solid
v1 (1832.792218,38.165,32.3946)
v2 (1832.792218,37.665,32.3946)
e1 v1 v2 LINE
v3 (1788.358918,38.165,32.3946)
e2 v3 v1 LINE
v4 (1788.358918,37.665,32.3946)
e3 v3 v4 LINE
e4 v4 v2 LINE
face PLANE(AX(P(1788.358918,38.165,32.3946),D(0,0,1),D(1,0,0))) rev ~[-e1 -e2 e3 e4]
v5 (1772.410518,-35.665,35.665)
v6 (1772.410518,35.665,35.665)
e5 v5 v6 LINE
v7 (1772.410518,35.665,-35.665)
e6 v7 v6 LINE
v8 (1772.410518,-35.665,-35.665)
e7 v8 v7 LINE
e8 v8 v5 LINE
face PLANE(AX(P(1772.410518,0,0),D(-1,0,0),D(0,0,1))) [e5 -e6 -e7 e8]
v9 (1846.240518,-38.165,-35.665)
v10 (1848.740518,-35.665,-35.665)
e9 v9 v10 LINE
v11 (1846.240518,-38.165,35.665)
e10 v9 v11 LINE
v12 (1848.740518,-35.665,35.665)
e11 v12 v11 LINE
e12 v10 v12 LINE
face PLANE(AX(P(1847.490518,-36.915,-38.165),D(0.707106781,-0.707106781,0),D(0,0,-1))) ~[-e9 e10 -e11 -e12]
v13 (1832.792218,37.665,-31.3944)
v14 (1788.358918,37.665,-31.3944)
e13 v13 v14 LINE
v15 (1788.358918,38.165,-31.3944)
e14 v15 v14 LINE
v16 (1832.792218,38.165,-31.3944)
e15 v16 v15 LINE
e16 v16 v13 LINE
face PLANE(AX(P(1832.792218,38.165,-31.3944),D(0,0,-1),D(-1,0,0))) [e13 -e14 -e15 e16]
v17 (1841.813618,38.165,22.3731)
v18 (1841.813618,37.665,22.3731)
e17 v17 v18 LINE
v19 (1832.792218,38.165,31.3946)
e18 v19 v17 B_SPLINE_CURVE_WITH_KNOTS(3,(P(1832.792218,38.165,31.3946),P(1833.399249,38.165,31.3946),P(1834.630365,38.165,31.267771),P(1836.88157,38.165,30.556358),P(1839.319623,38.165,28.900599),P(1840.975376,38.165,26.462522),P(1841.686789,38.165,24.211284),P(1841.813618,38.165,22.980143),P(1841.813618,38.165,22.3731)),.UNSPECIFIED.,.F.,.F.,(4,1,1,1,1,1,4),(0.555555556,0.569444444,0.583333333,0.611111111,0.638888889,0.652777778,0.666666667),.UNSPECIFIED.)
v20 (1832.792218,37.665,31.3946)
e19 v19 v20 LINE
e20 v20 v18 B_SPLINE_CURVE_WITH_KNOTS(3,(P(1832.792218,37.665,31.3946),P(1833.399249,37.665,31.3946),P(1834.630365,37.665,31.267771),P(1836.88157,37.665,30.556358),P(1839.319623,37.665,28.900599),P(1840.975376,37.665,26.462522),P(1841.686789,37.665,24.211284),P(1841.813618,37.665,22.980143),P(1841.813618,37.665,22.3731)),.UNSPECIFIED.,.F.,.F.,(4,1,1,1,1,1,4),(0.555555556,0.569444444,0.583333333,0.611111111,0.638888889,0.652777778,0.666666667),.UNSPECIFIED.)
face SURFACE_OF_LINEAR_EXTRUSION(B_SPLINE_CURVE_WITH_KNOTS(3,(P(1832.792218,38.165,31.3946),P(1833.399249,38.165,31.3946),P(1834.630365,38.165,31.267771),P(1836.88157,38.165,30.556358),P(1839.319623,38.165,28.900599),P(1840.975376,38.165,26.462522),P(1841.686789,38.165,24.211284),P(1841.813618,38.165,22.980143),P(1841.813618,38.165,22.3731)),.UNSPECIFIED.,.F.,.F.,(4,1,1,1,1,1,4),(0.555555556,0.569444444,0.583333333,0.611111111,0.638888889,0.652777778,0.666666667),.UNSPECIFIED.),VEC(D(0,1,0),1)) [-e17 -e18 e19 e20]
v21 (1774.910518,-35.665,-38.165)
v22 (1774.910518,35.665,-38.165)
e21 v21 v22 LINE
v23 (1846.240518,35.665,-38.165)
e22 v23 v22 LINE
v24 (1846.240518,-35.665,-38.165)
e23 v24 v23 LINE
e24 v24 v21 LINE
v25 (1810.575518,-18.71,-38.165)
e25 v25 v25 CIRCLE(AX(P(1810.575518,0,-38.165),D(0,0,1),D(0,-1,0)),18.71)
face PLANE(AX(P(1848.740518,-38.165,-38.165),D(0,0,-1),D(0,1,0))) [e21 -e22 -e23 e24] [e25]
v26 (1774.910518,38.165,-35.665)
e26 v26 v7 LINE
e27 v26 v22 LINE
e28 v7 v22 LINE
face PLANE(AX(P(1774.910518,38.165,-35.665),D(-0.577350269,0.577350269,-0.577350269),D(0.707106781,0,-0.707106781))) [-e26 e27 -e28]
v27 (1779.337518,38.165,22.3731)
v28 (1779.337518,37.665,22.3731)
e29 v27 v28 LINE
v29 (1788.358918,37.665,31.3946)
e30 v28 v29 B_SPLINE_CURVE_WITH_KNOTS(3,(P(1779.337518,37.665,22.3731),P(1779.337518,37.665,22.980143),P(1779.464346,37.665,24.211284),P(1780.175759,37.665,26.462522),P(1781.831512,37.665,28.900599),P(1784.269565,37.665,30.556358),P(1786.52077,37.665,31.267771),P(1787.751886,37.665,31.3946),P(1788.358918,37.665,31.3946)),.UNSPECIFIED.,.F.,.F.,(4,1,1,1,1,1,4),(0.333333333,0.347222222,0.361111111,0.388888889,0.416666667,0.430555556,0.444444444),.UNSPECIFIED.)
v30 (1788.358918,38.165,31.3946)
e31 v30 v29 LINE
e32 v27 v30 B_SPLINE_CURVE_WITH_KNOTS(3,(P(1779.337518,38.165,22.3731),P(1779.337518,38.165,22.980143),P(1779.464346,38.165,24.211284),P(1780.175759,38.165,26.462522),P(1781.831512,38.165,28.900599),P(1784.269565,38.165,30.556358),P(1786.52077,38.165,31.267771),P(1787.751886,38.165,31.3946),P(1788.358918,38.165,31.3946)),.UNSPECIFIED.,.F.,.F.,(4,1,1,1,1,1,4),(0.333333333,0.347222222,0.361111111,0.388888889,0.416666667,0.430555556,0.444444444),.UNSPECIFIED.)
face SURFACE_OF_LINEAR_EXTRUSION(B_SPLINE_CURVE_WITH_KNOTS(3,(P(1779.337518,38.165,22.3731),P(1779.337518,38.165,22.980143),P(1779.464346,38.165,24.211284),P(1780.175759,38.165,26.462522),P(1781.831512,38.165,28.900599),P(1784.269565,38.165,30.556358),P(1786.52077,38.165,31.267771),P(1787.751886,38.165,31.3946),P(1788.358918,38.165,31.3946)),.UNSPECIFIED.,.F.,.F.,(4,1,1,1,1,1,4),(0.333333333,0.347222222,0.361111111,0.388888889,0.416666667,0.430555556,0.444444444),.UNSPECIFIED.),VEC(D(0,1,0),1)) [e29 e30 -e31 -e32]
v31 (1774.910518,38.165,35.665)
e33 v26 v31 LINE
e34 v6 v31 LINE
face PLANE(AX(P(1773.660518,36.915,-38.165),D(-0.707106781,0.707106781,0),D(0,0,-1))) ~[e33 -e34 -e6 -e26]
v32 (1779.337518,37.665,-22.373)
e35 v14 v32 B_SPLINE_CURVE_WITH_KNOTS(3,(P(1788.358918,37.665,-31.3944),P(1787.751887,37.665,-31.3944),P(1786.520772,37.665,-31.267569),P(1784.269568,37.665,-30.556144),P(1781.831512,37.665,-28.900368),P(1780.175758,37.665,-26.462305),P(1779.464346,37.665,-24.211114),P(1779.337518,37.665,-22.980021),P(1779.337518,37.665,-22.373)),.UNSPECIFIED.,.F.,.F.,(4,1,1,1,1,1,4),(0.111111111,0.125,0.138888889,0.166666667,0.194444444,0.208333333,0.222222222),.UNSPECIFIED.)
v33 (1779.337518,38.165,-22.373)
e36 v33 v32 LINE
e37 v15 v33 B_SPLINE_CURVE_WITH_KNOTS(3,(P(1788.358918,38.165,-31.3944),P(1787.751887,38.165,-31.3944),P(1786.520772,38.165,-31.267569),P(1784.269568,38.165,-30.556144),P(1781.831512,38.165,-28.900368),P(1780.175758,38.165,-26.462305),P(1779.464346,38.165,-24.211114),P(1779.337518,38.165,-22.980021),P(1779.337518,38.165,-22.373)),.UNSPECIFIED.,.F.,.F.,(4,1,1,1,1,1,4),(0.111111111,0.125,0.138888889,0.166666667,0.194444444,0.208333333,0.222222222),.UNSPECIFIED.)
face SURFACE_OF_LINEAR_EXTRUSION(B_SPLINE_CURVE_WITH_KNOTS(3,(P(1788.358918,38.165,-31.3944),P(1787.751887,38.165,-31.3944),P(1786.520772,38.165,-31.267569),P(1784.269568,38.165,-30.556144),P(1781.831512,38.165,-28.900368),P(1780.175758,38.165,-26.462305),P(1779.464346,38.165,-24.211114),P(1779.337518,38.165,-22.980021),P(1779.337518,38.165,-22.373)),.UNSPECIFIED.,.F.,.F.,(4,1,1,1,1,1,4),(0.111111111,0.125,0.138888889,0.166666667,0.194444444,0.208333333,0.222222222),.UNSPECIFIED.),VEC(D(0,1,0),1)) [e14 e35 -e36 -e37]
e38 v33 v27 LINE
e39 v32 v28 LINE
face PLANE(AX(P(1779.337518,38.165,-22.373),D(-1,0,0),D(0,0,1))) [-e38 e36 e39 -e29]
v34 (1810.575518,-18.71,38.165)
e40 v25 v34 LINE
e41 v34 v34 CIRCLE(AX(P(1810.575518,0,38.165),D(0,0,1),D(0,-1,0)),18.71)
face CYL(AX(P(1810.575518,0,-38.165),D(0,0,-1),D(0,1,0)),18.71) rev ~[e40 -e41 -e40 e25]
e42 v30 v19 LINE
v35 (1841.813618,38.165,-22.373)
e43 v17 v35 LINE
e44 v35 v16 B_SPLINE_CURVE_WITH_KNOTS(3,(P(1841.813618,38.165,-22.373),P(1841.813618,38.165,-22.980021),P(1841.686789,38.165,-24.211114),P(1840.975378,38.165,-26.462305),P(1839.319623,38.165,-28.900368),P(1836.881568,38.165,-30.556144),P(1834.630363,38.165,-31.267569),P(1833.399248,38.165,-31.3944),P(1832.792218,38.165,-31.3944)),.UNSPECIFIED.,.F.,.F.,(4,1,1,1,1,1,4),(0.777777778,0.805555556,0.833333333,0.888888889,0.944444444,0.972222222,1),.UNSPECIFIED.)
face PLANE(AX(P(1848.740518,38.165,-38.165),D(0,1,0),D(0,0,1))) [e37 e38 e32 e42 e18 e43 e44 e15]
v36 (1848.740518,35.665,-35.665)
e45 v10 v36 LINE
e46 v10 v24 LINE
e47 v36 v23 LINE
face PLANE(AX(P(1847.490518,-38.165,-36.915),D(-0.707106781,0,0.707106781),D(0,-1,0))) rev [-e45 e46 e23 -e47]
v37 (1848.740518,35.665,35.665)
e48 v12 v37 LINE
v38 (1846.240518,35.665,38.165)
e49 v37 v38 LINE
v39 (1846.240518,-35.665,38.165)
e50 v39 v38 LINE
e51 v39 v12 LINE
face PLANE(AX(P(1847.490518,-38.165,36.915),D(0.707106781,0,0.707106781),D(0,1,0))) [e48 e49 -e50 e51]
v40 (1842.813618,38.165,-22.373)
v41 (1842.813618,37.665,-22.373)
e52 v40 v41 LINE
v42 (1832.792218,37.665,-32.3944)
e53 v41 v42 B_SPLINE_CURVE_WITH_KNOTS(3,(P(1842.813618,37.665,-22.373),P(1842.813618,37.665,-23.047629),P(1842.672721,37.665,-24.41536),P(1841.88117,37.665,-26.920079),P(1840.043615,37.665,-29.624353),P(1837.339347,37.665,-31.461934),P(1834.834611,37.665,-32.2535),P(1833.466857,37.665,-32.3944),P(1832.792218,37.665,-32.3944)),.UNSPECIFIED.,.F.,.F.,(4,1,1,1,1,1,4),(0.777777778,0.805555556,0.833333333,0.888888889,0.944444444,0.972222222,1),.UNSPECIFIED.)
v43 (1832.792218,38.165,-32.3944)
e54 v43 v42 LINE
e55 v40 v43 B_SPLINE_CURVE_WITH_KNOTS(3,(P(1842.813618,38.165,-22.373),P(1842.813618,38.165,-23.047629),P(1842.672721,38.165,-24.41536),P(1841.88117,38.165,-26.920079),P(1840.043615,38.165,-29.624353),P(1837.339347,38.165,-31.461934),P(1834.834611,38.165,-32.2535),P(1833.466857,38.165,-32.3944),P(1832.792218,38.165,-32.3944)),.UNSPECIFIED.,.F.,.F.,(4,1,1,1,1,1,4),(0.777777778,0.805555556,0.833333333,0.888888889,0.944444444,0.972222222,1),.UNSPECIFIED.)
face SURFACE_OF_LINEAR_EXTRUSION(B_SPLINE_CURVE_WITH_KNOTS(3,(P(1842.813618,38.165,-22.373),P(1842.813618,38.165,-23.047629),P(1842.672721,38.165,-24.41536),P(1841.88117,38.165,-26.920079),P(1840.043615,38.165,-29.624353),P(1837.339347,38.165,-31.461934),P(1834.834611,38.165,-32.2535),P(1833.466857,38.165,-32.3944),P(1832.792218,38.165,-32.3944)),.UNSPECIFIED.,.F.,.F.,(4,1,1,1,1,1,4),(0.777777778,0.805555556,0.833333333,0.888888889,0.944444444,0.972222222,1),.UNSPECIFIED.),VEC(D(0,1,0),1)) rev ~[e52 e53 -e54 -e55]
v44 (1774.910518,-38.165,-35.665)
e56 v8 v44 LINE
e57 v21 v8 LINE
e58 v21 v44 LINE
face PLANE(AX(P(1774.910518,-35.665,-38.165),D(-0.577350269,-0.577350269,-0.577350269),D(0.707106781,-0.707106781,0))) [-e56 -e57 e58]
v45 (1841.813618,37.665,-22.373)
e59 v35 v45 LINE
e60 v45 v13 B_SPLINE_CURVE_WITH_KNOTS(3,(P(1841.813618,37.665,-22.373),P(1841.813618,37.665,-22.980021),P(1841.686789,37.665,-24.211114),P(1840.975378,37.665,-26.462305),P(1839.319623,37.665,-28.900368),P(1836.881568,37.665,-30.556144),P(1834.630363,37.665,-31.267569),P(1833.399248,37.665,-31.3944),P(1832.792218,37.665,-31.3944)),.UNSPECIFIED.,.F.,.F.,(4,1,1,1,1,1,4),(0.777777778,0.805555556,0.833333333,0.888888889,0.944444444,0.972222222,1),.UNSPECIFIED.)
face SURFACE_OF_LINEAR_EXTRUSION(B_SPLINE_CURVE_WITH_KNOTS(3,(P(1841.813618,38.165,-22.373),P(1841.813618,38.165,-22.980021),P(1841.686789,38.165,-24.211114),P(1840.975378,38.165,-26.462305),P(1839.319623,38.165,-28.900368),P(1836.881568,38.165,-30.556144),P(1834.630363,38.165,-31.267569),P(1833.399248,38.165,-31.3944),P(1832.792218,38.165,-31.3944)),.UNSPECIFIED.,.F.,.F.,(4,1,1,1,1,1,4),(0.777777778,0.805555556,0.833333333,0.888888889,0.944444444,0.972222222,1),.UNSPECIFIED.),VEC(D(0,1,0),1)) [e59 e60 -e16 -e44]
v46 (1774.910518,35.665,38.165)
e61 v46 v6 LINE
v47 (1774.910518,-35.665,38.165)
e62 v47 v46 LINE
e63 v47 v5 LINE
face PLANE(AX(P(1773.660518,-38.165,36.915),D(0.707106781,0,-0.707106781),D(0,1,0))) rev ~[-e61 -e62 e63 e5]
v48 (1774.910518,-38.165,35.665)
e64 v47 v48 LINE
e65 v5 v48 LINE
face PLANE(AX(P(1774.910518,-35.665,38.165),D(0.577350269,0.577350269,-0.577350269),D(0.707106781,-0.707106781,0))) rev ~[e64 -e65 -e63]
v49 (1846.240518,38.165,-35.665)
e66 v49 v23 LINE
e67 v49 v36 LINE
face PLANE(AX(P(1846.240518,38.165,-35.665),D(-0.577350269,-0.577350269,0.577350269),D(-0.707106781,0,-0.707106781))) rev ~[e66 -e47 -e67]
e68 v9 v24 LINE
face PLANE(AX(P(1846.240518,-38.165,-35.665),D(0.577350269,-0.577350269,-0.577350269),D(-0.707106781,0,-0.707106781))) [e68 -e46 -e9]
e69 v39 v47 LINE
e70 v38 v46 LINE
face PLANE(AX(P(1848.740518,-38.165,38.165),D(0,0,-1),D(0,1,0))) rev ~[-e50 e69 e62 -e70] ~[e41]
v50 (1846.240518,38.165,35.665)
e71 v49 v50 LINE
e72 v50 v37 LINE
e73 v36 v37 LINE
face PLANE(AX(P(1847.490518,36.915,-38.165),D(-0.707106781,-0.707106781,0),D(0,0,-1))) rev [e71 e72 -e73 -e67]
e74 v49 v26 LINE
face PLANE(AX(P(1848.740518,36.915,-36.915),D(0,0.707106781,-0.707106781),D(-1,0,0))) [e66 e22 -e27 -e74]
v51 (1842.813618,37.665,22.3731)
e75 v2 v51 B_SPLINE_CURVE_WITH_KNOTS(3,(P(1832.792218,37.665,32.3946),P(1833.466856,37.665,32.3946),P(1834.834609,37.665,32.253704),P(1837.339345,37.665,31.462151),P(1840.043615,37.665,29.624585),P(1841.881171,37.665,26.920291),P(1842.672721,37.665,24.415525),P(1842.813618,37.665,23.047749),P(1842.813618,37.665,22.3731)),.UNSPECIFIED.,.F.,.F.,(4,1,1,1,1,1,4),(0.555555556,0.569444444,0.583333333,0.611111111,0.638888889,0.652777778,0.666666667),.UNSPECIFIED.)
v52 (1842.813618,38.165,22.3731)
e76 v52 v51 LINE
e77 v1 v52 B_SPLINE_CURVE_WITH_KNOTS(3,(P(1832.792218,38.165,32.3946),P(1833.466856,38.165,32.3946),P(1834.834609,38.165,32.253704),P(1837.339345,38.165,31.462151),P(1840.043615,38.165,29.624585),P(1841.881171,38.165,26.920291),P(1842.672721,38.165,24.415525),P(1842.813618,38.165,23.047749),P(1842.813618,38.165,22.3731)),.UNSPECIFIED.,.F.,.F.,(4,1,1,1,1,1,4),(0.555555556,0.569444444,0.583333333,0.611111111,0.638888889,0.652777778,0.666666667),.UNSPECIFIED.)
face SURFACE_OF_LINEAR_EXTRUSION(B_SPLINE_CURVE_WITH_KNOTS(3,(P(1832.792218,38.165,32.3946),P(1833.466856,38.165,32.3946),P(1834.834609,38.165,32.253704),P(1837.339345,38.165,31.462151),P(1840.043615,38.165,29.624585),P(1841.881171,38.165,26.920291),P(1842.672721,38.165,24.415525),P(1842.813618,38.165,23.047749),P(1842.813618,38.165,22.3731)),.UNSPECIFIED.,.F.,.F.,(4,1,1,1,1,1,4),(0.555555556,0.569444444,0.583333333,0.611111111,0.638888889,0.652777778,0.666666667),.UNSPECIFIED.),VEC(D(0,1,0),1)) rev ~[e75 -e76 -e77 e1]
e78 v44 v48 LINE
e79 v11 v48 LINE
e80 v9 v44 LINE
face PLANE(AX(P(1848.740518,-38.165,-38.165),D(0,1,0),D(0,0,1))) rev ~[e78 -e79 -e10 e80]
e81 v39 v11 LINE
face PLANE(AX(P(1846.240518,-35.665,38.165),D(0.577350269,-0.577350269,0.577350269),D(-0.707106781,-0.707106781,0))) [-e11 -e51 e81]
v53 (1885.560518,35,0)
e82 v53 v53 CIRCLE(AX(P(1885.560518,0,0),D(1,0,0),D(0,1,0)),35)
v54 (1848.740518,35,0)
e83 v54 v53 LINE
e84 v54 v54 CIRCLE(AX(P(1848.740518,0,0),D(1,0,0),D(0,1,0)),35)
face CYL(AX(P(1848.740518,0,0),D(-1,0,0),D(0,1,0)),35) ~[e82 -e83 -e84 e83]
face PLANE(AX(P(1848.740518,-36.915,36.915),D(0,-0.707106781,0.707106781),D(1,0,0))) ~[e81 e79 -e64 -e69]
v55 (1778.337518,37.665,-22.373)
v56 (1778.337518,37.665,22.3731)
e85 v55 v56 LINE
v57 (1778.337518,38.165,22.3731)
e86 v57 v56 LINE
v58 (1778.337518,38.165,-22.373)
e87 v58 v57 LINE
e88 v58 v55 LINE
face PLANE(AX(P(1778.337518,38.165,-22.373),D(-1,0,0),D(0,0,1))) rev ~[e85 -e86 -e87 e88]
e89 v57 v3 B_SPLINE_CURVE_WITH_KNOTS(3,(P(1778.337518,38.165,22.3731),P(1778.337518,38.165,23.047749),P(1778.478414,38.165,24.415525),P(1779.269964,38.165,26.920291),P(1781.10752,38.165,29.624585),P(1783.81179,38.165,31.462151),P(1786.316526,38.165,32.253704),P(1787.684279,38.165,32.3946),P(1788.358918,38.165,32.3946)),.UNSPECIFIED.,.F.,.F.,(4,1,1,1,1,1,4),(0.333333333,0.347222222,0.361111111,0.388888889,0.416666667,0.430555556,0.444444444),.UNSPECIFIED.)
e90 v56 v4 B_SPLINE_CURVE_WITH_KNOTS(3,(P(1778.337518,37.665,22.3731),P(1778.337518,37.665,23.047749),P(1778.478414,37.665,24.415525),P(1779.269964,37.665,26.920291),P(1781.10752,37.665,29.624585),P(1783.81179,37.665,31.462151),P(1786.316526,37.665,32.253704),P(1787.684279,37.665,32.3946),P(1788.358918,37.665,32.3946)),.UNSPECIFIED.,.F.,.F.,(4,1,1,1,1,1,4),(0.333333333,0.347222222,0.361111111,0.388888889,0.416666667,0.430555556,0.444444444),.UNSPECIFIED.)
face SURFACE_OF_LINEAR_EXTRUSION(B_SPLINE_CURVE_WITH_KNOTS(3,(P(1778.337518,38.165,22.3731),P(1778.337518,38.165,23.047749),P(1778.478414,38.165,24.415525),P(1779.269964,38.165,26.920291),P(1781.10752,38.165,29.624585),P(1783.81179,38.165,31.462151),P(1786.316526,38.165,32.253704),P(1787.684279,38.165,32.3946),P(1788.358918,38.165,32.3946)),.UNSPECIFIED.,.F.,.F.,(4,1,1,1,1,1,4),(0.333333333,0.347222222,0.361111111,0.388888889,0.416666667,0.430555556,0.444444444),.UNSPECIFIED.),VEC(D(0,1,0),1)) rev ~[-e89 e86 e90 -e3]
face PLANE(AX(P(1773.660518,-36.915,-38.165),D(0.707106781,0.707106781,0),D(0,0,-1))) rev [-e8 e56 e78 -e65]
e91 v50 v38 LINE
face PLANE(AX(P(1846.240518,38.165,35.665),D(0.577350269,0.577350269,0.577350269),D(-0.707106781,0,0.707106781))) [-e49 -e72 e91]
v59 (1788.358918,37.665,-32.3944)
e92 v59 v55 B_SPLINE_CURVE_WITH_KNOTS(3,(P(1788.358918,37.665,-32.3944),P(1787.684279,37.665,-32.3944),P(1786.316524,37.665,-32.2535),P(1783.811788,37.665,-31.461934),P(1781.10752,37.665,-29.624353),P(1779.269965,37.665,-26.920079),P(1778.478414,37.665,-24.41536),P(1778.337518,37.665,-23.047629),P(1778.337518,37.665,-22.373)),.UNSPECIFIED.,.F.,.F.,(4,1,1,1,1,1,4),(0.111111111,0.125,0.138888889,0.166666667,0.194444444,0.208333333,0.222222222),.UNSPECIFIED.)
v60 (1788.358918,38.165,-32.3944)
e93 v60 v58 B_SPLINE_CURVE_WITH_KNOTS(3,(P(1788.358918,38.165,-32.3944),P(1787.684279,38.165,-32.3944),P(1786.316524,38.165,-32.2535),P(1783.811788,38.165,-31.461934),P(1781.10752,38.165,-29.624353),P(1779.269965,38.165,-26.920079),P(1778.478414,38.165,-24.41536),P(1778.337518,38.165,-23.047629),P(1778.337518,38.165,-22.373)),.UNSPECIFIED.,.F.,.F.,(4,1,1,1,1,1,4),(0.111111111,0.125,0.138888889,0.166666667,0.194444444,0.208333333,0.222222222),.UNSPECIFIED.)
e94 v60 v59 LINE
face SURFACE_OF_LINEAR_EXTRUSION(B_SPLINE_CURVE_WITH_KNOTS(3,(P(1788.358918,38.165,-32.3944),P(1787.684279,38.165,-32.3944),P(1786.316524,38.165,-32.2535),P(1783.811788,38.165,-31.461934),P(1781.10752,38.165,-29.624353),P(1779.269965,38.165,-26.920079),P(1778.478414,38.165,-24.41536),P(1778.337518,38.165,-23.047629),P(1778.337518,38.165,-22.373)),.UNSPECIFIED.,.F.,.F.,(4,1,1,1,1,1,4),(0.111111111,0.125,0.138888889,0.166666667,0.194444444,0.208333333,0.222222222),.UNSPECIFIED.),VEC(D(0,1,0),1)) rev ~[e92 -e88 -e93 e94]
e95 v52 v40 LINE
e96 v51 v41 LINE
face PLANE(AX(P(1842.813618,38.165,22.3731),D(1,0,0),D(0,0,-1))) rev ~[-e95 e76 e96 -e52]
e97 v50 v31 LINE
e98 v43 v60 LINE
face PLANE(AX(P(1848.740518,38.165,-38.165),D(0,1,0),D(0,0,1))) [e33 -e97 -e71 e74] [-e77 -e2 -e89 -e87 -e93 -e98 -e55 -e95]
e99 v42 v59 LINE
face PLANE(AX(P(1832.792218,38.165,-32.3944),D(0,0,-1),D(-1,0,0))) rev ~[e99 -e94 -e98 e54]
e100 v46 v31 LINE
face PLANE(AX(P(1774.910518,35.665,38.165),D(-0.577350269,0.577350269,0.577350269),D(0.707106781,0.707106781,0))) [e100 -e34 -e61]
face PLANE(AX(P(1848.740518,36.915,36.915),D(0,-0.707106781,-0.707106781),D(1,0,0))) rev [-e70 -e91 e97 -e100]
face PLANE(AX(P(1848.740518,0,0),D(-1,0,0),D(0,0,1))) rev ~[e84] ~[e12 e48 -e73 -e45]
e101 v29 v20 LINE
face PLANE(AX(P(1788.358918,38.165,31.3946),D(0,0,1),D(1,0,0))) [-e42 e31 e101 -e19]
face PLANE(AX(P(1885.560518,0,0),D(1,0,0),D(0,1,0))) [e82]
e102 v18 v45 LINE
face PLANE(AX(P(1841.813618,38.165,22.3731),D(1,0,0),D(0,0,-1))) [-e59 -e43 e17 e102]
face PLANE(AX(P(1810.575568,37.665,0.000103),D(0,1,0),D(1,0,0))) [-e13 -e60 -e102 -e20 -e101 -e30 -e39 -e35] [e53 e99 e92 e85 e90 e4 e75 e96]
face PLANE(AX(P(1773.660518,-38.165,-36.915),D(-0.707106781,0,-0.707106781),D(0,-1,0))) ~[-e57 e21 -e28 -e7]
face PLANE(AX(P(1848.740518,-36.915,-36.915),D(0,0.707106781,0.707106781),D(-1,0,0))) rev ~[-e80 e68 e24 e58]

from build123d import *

# Parameters (mm, degrees)
SKETCH1_W           = 76.33
SKETCH1_H           = 76.33
BOSS_EXTRUDE1_DEPTH = 76.33
SKETCH2_R           = 35
BOSS_EXTRUDE2_DEPTH = 36.82
CHAMFER1_SIZE       = 2.5
CUT_EXTRUDE1_REACH  = 1889.491
CUT_EXTRUDE2_DEPTH  = 0.5


with BuildPart() as part:
    # Sketch1 → Boss-Extrude1 (new body)
    with BuildSketch(Plane.ZY.offset(-1848.740517551)):
        Rectangle(SKETCH1_W, SKETCH1_H)
    extrude(amount=BOSS_EXTRUDE1_DEPTH)

    # Sketch2 → Boss-Extrude2 (add)
    with BuildSketch(Plane(origin=(1848.740517551, 0, 0), x_dir=(0, 0, -1), z_dir=(1, 0, 0))):
        with Locations(Location((0, 0, 0), (0, 0, 90))):
            Circle(SKETCH2_R)
    extrude(amount=BOSS_EXTRUDE2_DEPTH)

    # Chamfer1
    chamfer1_edges = [part.edges().sort_by_distance(p)[0] for p in [
        (1772.410517551, -38.165, 0),
        (1772.410517551, 0, -38.165),
        (1772.410517551, 38.165, 0),
        (1848.740517551, 0, -38.165),
        (1848.740517551, -38.165, 0),
        (1848.740517551, 0, 38.165),
        (1848.740517551, 38.165, 0),
        (1772.410517551, 0, 38.165),
        (1810.575517551, 38.165, -38.165),
        (1810.575517551, -38.165, -38.165),
        (1810.575517551, -38.165, 38.165),
        (1810.575517551, 38.165, 38.165),
    ]]
    chamfer(chamfer1_edges, length=CHAMFER1_SIZE)

    # Sketch3 → Cut-Extrude1 (cut, up to next)
    with BuildSketch(Plane(origin=(0, 0, -38.165), x_dir=(-1, 0, 0), z_dir=(0, 0, -1)), mode=Mode.PRIVATE) as cut_extrude1_sk1:
        with BuildLine():
            ThreePointArc((-1791.865517551, 0), (-1797.345549675, 13.229967876), (-1810.575517551, 18.71))
            Line((-1810.575517551, 18.71), (-1810.575517551, -18.71))
            ThreePointArc((-1810.575517551, -18.71), (-1797.345549675, -13.229967876), (-1791.865517551, 0))
        make_face()
    cut_extrude1_tool1 = extrude(cut_extrude1_sk1.sketch, amount=-CUT_EXTRUDE1_REACH, mode=Mode.PRIVATE) & part.part
    # Sketch3 → Cut-Extrude1 (cut, up to next)
    with BuildSketch(Plane(origin=(0, 0, -38.165), x_dir=(-1, 0, 0), z_dir=(0, 0, -1)), mode=Mode.PRIVATE) as cut_extrude1_sk2:
        with BuildLine():
            Line((-1810.575517551, -18.71), (-1810.575517551, 18.71))
            ThreePointArc((-1810.575517551, 18.71), (-1829.285517551, 0), (-1810.575517551, -18.71))
        make_face()
    cut_extrude1_tool2 = extrude(cut_extrude1_sk2.sketch, amount=-CUT_EXTRUDE1_REACH, mode=Mode.PRIVATE) & part.part
    # Sketch3 → Cut-Extrude1 (cut, up to next)
    with BuildSketch(Plane(origin=(0, 0, -38.165), x_dir=(-1, 0, 0), z_dir=(0, 0, -1)), mode=Mode.PRIVATE) as cut_extrude1_sk3:
        with BuildLine():
            ThreePointArc((-1791.865517551, 0), (-1797.345549675, 13.229967876), (-1810.575517551, 18.71))
            Line((-1810.575517551, 18.71), (-1810.575517551, -18.71))
            ThreePointArc((-1810.575517551, -18.71), (-1797.345549675, -13.229967876), (-1791.865517551, 0))
        make_face()
    cut_extrude1_tool3 = extrude(cut_extrude1_sk3.sketch, amount=-CUT_EXTRUDE1_REACH, mode=Mode.PRIVATE) & part.part
    # Sketch3 → Cut-Extrude1 (cut, up to next)
    with BuildSketch(Plane(origin=(0, 0, -38.165), x_dir=(-1, 0, 0), z_dir=(0, 0, -1)), mode=Mode.PRIVATE) as cut_extrude1_sk4:
        with BuildLine():
            Line((-1810.575517551, -18.71), (-1810.575517551, 18.71))
            ThreePointArc((-1810.575517551, 18.71), (-1829.285517551, 0), (-1810.575517551, -18.71))
        make_face()
    cut_extrude1_tool4 = extrude(cut_extrude1_sk4.sketch, amount=-CUT_EXTRUDE1_REACH, mode=Mode.PRIVATE) & part.part
    add(cut_extrude1_tool1.solids().sort_by_distance((1802.634747, 0, -38.165))[0], mode=Mode.SUBTRACT)
    add(cut_extrude1_tool2.solids().sort_by_distance((1818.516288, 0, -38.165))[0], mode=Mode.SUBTRACT)
    add(cut_extrude1_tool3.solids().sort_by_distance((1802.634747, 0, -38.165))[0], mode=Mode.SUBTRACT)
    add(cut_extrude1_tool4.solids().sort_by_distance((1818.516288, 0, -38.165))[0], mode=Mode.SUBTRACT)

    # Sketch5 → Cut-Extrude2 (cut)
    with BuildSketch(Plane(origin=(0, 38.165, 0), x_dir=(1, 0, 0), z_dir=(0, 1, 0))):
        with BuildLine():
            Line((1788.358917551, -32.3946), (1832.792217551, -32.3946))
            add(Edge.make_bspline(
                [(1832.792217551, -32.3946), (1833.466855861, -32.3946), (1834.834608919, -32.253703608), (1837.339344692, -31.462150857), (1840.043615022, -29.624585418), (1841.881171353, -26.92029094), (1842.672721425, -24.415524634), (1842.813617551, -23.047748692), (1842.813617551, -22.3731)],
                knots=[0.555555556, 0.555555556, 0.555555556, 0.555555556, 0.569444444, 0.583333333, 0.611111111, 0.638888889, 0.652777778, 0.666666667, 0.666666667, 0.666666667, 0.666666667], degree=3))
            Line((1842.813617551, -22.3731), (1842.813617551, 22.373))
            add(Edge.make_bspline(
                [(1842.813617551, 22.373), (1842.813617551, 23.047629093), (1842.672720901, 24.415360154), (1841.881169744, 26.92007933), (1840.043614741, 29.624353237), (1837.339347144, 31.46193401), (1834.834610984, 32.25350014), (1833.466856595, 32.3944), (1832.792217551, 32.3944)],
                knots=[0.777777778, 0.777777778, 0.777777778, 0.777777778, 0.805555556, 0.833333333, 0.888888889, 0.944444444, 0.972222222, 1, 1, 1, 1], degree=3))
            Line((1832.792217551, 32.3944), (1788.358917551, 32.3944))
            add(Edge.make_bspline(
                [(1788.358917551, 32.3944), (1787.684278508, 32.3944), (1786.316524118, 32.25350014), (1783.811787958, 31.46193401), (1781.107520362, 29.624353237), (1779.269965358, 26.92007933), (1778.478414202, 24.415360154), (1778.337517551, 23.047629093), (1778.337517551, 22.373)],
                knots=[0.111111111, 0.111111111, 0.111111111, 0.111111111, 0.125, 0.138888889, 0.166666667, 0.194444444, 0.208333333, 0.222222222, 0.222222222, 0.222222222, 0.222222222], degree=3))
            Line((1778.337517551, 22.373), (1778.337517551, -22.3731))
            add(Edge.make_bspline(
                [(1778.337517551, -22.3731), (1778.337517551, -23.047748692), (1778.478413677, -24.415524634), (1779.269963749, -26.92029094), (1781.107520081, -29.624585418), (1783.81179041, -31.462150857), (1786.316526183, -32.253703608), (1787.684279242, -32.3946), (1788.358917551, -32.3946)],
                knots=[0.333333333, 0.333333333, 0.333333333, 0.333333333, 0.347222222, 0.361111111, 0.388888889, 0.416666667, 0.430555556, 0.444444444, 0.444444444, 0.444444444, 0.444444444], degree=3))
        make_face()
        with BuildLine():
            Line((1788.358917551, -31.3946), (1832.792217551, -31.3946))
            add(Edge.make_bspline(
                [(1832.792217551, -31.3946), (1833.399248628, -31.3946), (1834.630365029, -31.267771469), (1836.881569909, -30.556358134), (1839.319622864, -28.900598899), (1840.975375901, -26.462522118), (1841.686788747, -24.211284373), (1841.813617551, -22.980142574), (1841.813617551, -22.3731)],
                knots=[0.555555556, 0.555555556, 0.555555556, 0.555555556, 0.569444444, 0.583333333, 0.611111111, 0.638888889, 0.652777778, 0.666666667, 0.666666667, 0.666666667, 0.666666667], degree=3))
            Line((1841.813617551, -22.3731), (1841.813617551, 22.373))
            add(Edge.make_bspline(
                [(1841.813617551, 22.373), (1841.813617551, 22.980021237), (1841.686789271, 24.211113504), (1840.975377513, 26.462304848), (1839.319623121, 28.900367756), (1836.881567526, 30.556143835), (1834.630362845, 31.267568666), (1833.399248157, 31.3944), (1832.792217551, 31.3944)],
                knots=[0.777777778, 0.777777778, 0.777777778, 0.777777778, 0.805555556, 0.833333333, 0.888888889, 0.944444444, 0.972222222, 1, 1, 1, 1], degree=3))
            Line((1832.792217551, 31.3944), (1788.358917551, 31.3944))
            add(Edge.make_bspline(
                [(1788.358917551, 31.3944), (1787.751886946, 31.3944), (1786.520772257, 31.267568666), (1784.269567577, 30.556143835), (1781.831511982, 28.900367756), (1780.175757589, 26.462304848), (1779.464345832, 24.211113504), (1779.337517551, 22.980021237), (1779.337517551, 22.373)],
                knots=[0.111111111, 0.111111111, 0.111111111, 0.111111111, 0.125, 0.138888889, 0.166666667, 0.194444444, 0.208333333, 0.222222222, 0.222222222, 0.222222222, 0.222222222], degree=3))
            Line((1779.337517551, 22.373), (1779.337517551, -22.3731))
            add(Edge.make_bspline(
                [(1779.337517551, -22.3731), (1779.337517551, -22.980142574), (1779.464346356, -24.211284373), (1780.175759201, -26.462522118), (1781.831512239, -28.900598899), (1784.269565194, -30.556358134), (1786.520770074, -31.267771469), (1787.751886474, -31.3946), (1788.358917551, -31.3946)],
                knots=[0.333333333, 0.333333333, 0.333333333, 0.333333333, 0.347222222, 0.361111111, 0.388888889, 0.416666667, 0.430555556, 0.444444444, 0.444444444, 0.444444444, 0.444444444], degree=3))
        make_face(mode=Mode.SUBTRACT)
    extrude(amount=-CUT_EXTRUDE2_DEPTH, mode=Mode.SUBTRACT)


solid = part.part
